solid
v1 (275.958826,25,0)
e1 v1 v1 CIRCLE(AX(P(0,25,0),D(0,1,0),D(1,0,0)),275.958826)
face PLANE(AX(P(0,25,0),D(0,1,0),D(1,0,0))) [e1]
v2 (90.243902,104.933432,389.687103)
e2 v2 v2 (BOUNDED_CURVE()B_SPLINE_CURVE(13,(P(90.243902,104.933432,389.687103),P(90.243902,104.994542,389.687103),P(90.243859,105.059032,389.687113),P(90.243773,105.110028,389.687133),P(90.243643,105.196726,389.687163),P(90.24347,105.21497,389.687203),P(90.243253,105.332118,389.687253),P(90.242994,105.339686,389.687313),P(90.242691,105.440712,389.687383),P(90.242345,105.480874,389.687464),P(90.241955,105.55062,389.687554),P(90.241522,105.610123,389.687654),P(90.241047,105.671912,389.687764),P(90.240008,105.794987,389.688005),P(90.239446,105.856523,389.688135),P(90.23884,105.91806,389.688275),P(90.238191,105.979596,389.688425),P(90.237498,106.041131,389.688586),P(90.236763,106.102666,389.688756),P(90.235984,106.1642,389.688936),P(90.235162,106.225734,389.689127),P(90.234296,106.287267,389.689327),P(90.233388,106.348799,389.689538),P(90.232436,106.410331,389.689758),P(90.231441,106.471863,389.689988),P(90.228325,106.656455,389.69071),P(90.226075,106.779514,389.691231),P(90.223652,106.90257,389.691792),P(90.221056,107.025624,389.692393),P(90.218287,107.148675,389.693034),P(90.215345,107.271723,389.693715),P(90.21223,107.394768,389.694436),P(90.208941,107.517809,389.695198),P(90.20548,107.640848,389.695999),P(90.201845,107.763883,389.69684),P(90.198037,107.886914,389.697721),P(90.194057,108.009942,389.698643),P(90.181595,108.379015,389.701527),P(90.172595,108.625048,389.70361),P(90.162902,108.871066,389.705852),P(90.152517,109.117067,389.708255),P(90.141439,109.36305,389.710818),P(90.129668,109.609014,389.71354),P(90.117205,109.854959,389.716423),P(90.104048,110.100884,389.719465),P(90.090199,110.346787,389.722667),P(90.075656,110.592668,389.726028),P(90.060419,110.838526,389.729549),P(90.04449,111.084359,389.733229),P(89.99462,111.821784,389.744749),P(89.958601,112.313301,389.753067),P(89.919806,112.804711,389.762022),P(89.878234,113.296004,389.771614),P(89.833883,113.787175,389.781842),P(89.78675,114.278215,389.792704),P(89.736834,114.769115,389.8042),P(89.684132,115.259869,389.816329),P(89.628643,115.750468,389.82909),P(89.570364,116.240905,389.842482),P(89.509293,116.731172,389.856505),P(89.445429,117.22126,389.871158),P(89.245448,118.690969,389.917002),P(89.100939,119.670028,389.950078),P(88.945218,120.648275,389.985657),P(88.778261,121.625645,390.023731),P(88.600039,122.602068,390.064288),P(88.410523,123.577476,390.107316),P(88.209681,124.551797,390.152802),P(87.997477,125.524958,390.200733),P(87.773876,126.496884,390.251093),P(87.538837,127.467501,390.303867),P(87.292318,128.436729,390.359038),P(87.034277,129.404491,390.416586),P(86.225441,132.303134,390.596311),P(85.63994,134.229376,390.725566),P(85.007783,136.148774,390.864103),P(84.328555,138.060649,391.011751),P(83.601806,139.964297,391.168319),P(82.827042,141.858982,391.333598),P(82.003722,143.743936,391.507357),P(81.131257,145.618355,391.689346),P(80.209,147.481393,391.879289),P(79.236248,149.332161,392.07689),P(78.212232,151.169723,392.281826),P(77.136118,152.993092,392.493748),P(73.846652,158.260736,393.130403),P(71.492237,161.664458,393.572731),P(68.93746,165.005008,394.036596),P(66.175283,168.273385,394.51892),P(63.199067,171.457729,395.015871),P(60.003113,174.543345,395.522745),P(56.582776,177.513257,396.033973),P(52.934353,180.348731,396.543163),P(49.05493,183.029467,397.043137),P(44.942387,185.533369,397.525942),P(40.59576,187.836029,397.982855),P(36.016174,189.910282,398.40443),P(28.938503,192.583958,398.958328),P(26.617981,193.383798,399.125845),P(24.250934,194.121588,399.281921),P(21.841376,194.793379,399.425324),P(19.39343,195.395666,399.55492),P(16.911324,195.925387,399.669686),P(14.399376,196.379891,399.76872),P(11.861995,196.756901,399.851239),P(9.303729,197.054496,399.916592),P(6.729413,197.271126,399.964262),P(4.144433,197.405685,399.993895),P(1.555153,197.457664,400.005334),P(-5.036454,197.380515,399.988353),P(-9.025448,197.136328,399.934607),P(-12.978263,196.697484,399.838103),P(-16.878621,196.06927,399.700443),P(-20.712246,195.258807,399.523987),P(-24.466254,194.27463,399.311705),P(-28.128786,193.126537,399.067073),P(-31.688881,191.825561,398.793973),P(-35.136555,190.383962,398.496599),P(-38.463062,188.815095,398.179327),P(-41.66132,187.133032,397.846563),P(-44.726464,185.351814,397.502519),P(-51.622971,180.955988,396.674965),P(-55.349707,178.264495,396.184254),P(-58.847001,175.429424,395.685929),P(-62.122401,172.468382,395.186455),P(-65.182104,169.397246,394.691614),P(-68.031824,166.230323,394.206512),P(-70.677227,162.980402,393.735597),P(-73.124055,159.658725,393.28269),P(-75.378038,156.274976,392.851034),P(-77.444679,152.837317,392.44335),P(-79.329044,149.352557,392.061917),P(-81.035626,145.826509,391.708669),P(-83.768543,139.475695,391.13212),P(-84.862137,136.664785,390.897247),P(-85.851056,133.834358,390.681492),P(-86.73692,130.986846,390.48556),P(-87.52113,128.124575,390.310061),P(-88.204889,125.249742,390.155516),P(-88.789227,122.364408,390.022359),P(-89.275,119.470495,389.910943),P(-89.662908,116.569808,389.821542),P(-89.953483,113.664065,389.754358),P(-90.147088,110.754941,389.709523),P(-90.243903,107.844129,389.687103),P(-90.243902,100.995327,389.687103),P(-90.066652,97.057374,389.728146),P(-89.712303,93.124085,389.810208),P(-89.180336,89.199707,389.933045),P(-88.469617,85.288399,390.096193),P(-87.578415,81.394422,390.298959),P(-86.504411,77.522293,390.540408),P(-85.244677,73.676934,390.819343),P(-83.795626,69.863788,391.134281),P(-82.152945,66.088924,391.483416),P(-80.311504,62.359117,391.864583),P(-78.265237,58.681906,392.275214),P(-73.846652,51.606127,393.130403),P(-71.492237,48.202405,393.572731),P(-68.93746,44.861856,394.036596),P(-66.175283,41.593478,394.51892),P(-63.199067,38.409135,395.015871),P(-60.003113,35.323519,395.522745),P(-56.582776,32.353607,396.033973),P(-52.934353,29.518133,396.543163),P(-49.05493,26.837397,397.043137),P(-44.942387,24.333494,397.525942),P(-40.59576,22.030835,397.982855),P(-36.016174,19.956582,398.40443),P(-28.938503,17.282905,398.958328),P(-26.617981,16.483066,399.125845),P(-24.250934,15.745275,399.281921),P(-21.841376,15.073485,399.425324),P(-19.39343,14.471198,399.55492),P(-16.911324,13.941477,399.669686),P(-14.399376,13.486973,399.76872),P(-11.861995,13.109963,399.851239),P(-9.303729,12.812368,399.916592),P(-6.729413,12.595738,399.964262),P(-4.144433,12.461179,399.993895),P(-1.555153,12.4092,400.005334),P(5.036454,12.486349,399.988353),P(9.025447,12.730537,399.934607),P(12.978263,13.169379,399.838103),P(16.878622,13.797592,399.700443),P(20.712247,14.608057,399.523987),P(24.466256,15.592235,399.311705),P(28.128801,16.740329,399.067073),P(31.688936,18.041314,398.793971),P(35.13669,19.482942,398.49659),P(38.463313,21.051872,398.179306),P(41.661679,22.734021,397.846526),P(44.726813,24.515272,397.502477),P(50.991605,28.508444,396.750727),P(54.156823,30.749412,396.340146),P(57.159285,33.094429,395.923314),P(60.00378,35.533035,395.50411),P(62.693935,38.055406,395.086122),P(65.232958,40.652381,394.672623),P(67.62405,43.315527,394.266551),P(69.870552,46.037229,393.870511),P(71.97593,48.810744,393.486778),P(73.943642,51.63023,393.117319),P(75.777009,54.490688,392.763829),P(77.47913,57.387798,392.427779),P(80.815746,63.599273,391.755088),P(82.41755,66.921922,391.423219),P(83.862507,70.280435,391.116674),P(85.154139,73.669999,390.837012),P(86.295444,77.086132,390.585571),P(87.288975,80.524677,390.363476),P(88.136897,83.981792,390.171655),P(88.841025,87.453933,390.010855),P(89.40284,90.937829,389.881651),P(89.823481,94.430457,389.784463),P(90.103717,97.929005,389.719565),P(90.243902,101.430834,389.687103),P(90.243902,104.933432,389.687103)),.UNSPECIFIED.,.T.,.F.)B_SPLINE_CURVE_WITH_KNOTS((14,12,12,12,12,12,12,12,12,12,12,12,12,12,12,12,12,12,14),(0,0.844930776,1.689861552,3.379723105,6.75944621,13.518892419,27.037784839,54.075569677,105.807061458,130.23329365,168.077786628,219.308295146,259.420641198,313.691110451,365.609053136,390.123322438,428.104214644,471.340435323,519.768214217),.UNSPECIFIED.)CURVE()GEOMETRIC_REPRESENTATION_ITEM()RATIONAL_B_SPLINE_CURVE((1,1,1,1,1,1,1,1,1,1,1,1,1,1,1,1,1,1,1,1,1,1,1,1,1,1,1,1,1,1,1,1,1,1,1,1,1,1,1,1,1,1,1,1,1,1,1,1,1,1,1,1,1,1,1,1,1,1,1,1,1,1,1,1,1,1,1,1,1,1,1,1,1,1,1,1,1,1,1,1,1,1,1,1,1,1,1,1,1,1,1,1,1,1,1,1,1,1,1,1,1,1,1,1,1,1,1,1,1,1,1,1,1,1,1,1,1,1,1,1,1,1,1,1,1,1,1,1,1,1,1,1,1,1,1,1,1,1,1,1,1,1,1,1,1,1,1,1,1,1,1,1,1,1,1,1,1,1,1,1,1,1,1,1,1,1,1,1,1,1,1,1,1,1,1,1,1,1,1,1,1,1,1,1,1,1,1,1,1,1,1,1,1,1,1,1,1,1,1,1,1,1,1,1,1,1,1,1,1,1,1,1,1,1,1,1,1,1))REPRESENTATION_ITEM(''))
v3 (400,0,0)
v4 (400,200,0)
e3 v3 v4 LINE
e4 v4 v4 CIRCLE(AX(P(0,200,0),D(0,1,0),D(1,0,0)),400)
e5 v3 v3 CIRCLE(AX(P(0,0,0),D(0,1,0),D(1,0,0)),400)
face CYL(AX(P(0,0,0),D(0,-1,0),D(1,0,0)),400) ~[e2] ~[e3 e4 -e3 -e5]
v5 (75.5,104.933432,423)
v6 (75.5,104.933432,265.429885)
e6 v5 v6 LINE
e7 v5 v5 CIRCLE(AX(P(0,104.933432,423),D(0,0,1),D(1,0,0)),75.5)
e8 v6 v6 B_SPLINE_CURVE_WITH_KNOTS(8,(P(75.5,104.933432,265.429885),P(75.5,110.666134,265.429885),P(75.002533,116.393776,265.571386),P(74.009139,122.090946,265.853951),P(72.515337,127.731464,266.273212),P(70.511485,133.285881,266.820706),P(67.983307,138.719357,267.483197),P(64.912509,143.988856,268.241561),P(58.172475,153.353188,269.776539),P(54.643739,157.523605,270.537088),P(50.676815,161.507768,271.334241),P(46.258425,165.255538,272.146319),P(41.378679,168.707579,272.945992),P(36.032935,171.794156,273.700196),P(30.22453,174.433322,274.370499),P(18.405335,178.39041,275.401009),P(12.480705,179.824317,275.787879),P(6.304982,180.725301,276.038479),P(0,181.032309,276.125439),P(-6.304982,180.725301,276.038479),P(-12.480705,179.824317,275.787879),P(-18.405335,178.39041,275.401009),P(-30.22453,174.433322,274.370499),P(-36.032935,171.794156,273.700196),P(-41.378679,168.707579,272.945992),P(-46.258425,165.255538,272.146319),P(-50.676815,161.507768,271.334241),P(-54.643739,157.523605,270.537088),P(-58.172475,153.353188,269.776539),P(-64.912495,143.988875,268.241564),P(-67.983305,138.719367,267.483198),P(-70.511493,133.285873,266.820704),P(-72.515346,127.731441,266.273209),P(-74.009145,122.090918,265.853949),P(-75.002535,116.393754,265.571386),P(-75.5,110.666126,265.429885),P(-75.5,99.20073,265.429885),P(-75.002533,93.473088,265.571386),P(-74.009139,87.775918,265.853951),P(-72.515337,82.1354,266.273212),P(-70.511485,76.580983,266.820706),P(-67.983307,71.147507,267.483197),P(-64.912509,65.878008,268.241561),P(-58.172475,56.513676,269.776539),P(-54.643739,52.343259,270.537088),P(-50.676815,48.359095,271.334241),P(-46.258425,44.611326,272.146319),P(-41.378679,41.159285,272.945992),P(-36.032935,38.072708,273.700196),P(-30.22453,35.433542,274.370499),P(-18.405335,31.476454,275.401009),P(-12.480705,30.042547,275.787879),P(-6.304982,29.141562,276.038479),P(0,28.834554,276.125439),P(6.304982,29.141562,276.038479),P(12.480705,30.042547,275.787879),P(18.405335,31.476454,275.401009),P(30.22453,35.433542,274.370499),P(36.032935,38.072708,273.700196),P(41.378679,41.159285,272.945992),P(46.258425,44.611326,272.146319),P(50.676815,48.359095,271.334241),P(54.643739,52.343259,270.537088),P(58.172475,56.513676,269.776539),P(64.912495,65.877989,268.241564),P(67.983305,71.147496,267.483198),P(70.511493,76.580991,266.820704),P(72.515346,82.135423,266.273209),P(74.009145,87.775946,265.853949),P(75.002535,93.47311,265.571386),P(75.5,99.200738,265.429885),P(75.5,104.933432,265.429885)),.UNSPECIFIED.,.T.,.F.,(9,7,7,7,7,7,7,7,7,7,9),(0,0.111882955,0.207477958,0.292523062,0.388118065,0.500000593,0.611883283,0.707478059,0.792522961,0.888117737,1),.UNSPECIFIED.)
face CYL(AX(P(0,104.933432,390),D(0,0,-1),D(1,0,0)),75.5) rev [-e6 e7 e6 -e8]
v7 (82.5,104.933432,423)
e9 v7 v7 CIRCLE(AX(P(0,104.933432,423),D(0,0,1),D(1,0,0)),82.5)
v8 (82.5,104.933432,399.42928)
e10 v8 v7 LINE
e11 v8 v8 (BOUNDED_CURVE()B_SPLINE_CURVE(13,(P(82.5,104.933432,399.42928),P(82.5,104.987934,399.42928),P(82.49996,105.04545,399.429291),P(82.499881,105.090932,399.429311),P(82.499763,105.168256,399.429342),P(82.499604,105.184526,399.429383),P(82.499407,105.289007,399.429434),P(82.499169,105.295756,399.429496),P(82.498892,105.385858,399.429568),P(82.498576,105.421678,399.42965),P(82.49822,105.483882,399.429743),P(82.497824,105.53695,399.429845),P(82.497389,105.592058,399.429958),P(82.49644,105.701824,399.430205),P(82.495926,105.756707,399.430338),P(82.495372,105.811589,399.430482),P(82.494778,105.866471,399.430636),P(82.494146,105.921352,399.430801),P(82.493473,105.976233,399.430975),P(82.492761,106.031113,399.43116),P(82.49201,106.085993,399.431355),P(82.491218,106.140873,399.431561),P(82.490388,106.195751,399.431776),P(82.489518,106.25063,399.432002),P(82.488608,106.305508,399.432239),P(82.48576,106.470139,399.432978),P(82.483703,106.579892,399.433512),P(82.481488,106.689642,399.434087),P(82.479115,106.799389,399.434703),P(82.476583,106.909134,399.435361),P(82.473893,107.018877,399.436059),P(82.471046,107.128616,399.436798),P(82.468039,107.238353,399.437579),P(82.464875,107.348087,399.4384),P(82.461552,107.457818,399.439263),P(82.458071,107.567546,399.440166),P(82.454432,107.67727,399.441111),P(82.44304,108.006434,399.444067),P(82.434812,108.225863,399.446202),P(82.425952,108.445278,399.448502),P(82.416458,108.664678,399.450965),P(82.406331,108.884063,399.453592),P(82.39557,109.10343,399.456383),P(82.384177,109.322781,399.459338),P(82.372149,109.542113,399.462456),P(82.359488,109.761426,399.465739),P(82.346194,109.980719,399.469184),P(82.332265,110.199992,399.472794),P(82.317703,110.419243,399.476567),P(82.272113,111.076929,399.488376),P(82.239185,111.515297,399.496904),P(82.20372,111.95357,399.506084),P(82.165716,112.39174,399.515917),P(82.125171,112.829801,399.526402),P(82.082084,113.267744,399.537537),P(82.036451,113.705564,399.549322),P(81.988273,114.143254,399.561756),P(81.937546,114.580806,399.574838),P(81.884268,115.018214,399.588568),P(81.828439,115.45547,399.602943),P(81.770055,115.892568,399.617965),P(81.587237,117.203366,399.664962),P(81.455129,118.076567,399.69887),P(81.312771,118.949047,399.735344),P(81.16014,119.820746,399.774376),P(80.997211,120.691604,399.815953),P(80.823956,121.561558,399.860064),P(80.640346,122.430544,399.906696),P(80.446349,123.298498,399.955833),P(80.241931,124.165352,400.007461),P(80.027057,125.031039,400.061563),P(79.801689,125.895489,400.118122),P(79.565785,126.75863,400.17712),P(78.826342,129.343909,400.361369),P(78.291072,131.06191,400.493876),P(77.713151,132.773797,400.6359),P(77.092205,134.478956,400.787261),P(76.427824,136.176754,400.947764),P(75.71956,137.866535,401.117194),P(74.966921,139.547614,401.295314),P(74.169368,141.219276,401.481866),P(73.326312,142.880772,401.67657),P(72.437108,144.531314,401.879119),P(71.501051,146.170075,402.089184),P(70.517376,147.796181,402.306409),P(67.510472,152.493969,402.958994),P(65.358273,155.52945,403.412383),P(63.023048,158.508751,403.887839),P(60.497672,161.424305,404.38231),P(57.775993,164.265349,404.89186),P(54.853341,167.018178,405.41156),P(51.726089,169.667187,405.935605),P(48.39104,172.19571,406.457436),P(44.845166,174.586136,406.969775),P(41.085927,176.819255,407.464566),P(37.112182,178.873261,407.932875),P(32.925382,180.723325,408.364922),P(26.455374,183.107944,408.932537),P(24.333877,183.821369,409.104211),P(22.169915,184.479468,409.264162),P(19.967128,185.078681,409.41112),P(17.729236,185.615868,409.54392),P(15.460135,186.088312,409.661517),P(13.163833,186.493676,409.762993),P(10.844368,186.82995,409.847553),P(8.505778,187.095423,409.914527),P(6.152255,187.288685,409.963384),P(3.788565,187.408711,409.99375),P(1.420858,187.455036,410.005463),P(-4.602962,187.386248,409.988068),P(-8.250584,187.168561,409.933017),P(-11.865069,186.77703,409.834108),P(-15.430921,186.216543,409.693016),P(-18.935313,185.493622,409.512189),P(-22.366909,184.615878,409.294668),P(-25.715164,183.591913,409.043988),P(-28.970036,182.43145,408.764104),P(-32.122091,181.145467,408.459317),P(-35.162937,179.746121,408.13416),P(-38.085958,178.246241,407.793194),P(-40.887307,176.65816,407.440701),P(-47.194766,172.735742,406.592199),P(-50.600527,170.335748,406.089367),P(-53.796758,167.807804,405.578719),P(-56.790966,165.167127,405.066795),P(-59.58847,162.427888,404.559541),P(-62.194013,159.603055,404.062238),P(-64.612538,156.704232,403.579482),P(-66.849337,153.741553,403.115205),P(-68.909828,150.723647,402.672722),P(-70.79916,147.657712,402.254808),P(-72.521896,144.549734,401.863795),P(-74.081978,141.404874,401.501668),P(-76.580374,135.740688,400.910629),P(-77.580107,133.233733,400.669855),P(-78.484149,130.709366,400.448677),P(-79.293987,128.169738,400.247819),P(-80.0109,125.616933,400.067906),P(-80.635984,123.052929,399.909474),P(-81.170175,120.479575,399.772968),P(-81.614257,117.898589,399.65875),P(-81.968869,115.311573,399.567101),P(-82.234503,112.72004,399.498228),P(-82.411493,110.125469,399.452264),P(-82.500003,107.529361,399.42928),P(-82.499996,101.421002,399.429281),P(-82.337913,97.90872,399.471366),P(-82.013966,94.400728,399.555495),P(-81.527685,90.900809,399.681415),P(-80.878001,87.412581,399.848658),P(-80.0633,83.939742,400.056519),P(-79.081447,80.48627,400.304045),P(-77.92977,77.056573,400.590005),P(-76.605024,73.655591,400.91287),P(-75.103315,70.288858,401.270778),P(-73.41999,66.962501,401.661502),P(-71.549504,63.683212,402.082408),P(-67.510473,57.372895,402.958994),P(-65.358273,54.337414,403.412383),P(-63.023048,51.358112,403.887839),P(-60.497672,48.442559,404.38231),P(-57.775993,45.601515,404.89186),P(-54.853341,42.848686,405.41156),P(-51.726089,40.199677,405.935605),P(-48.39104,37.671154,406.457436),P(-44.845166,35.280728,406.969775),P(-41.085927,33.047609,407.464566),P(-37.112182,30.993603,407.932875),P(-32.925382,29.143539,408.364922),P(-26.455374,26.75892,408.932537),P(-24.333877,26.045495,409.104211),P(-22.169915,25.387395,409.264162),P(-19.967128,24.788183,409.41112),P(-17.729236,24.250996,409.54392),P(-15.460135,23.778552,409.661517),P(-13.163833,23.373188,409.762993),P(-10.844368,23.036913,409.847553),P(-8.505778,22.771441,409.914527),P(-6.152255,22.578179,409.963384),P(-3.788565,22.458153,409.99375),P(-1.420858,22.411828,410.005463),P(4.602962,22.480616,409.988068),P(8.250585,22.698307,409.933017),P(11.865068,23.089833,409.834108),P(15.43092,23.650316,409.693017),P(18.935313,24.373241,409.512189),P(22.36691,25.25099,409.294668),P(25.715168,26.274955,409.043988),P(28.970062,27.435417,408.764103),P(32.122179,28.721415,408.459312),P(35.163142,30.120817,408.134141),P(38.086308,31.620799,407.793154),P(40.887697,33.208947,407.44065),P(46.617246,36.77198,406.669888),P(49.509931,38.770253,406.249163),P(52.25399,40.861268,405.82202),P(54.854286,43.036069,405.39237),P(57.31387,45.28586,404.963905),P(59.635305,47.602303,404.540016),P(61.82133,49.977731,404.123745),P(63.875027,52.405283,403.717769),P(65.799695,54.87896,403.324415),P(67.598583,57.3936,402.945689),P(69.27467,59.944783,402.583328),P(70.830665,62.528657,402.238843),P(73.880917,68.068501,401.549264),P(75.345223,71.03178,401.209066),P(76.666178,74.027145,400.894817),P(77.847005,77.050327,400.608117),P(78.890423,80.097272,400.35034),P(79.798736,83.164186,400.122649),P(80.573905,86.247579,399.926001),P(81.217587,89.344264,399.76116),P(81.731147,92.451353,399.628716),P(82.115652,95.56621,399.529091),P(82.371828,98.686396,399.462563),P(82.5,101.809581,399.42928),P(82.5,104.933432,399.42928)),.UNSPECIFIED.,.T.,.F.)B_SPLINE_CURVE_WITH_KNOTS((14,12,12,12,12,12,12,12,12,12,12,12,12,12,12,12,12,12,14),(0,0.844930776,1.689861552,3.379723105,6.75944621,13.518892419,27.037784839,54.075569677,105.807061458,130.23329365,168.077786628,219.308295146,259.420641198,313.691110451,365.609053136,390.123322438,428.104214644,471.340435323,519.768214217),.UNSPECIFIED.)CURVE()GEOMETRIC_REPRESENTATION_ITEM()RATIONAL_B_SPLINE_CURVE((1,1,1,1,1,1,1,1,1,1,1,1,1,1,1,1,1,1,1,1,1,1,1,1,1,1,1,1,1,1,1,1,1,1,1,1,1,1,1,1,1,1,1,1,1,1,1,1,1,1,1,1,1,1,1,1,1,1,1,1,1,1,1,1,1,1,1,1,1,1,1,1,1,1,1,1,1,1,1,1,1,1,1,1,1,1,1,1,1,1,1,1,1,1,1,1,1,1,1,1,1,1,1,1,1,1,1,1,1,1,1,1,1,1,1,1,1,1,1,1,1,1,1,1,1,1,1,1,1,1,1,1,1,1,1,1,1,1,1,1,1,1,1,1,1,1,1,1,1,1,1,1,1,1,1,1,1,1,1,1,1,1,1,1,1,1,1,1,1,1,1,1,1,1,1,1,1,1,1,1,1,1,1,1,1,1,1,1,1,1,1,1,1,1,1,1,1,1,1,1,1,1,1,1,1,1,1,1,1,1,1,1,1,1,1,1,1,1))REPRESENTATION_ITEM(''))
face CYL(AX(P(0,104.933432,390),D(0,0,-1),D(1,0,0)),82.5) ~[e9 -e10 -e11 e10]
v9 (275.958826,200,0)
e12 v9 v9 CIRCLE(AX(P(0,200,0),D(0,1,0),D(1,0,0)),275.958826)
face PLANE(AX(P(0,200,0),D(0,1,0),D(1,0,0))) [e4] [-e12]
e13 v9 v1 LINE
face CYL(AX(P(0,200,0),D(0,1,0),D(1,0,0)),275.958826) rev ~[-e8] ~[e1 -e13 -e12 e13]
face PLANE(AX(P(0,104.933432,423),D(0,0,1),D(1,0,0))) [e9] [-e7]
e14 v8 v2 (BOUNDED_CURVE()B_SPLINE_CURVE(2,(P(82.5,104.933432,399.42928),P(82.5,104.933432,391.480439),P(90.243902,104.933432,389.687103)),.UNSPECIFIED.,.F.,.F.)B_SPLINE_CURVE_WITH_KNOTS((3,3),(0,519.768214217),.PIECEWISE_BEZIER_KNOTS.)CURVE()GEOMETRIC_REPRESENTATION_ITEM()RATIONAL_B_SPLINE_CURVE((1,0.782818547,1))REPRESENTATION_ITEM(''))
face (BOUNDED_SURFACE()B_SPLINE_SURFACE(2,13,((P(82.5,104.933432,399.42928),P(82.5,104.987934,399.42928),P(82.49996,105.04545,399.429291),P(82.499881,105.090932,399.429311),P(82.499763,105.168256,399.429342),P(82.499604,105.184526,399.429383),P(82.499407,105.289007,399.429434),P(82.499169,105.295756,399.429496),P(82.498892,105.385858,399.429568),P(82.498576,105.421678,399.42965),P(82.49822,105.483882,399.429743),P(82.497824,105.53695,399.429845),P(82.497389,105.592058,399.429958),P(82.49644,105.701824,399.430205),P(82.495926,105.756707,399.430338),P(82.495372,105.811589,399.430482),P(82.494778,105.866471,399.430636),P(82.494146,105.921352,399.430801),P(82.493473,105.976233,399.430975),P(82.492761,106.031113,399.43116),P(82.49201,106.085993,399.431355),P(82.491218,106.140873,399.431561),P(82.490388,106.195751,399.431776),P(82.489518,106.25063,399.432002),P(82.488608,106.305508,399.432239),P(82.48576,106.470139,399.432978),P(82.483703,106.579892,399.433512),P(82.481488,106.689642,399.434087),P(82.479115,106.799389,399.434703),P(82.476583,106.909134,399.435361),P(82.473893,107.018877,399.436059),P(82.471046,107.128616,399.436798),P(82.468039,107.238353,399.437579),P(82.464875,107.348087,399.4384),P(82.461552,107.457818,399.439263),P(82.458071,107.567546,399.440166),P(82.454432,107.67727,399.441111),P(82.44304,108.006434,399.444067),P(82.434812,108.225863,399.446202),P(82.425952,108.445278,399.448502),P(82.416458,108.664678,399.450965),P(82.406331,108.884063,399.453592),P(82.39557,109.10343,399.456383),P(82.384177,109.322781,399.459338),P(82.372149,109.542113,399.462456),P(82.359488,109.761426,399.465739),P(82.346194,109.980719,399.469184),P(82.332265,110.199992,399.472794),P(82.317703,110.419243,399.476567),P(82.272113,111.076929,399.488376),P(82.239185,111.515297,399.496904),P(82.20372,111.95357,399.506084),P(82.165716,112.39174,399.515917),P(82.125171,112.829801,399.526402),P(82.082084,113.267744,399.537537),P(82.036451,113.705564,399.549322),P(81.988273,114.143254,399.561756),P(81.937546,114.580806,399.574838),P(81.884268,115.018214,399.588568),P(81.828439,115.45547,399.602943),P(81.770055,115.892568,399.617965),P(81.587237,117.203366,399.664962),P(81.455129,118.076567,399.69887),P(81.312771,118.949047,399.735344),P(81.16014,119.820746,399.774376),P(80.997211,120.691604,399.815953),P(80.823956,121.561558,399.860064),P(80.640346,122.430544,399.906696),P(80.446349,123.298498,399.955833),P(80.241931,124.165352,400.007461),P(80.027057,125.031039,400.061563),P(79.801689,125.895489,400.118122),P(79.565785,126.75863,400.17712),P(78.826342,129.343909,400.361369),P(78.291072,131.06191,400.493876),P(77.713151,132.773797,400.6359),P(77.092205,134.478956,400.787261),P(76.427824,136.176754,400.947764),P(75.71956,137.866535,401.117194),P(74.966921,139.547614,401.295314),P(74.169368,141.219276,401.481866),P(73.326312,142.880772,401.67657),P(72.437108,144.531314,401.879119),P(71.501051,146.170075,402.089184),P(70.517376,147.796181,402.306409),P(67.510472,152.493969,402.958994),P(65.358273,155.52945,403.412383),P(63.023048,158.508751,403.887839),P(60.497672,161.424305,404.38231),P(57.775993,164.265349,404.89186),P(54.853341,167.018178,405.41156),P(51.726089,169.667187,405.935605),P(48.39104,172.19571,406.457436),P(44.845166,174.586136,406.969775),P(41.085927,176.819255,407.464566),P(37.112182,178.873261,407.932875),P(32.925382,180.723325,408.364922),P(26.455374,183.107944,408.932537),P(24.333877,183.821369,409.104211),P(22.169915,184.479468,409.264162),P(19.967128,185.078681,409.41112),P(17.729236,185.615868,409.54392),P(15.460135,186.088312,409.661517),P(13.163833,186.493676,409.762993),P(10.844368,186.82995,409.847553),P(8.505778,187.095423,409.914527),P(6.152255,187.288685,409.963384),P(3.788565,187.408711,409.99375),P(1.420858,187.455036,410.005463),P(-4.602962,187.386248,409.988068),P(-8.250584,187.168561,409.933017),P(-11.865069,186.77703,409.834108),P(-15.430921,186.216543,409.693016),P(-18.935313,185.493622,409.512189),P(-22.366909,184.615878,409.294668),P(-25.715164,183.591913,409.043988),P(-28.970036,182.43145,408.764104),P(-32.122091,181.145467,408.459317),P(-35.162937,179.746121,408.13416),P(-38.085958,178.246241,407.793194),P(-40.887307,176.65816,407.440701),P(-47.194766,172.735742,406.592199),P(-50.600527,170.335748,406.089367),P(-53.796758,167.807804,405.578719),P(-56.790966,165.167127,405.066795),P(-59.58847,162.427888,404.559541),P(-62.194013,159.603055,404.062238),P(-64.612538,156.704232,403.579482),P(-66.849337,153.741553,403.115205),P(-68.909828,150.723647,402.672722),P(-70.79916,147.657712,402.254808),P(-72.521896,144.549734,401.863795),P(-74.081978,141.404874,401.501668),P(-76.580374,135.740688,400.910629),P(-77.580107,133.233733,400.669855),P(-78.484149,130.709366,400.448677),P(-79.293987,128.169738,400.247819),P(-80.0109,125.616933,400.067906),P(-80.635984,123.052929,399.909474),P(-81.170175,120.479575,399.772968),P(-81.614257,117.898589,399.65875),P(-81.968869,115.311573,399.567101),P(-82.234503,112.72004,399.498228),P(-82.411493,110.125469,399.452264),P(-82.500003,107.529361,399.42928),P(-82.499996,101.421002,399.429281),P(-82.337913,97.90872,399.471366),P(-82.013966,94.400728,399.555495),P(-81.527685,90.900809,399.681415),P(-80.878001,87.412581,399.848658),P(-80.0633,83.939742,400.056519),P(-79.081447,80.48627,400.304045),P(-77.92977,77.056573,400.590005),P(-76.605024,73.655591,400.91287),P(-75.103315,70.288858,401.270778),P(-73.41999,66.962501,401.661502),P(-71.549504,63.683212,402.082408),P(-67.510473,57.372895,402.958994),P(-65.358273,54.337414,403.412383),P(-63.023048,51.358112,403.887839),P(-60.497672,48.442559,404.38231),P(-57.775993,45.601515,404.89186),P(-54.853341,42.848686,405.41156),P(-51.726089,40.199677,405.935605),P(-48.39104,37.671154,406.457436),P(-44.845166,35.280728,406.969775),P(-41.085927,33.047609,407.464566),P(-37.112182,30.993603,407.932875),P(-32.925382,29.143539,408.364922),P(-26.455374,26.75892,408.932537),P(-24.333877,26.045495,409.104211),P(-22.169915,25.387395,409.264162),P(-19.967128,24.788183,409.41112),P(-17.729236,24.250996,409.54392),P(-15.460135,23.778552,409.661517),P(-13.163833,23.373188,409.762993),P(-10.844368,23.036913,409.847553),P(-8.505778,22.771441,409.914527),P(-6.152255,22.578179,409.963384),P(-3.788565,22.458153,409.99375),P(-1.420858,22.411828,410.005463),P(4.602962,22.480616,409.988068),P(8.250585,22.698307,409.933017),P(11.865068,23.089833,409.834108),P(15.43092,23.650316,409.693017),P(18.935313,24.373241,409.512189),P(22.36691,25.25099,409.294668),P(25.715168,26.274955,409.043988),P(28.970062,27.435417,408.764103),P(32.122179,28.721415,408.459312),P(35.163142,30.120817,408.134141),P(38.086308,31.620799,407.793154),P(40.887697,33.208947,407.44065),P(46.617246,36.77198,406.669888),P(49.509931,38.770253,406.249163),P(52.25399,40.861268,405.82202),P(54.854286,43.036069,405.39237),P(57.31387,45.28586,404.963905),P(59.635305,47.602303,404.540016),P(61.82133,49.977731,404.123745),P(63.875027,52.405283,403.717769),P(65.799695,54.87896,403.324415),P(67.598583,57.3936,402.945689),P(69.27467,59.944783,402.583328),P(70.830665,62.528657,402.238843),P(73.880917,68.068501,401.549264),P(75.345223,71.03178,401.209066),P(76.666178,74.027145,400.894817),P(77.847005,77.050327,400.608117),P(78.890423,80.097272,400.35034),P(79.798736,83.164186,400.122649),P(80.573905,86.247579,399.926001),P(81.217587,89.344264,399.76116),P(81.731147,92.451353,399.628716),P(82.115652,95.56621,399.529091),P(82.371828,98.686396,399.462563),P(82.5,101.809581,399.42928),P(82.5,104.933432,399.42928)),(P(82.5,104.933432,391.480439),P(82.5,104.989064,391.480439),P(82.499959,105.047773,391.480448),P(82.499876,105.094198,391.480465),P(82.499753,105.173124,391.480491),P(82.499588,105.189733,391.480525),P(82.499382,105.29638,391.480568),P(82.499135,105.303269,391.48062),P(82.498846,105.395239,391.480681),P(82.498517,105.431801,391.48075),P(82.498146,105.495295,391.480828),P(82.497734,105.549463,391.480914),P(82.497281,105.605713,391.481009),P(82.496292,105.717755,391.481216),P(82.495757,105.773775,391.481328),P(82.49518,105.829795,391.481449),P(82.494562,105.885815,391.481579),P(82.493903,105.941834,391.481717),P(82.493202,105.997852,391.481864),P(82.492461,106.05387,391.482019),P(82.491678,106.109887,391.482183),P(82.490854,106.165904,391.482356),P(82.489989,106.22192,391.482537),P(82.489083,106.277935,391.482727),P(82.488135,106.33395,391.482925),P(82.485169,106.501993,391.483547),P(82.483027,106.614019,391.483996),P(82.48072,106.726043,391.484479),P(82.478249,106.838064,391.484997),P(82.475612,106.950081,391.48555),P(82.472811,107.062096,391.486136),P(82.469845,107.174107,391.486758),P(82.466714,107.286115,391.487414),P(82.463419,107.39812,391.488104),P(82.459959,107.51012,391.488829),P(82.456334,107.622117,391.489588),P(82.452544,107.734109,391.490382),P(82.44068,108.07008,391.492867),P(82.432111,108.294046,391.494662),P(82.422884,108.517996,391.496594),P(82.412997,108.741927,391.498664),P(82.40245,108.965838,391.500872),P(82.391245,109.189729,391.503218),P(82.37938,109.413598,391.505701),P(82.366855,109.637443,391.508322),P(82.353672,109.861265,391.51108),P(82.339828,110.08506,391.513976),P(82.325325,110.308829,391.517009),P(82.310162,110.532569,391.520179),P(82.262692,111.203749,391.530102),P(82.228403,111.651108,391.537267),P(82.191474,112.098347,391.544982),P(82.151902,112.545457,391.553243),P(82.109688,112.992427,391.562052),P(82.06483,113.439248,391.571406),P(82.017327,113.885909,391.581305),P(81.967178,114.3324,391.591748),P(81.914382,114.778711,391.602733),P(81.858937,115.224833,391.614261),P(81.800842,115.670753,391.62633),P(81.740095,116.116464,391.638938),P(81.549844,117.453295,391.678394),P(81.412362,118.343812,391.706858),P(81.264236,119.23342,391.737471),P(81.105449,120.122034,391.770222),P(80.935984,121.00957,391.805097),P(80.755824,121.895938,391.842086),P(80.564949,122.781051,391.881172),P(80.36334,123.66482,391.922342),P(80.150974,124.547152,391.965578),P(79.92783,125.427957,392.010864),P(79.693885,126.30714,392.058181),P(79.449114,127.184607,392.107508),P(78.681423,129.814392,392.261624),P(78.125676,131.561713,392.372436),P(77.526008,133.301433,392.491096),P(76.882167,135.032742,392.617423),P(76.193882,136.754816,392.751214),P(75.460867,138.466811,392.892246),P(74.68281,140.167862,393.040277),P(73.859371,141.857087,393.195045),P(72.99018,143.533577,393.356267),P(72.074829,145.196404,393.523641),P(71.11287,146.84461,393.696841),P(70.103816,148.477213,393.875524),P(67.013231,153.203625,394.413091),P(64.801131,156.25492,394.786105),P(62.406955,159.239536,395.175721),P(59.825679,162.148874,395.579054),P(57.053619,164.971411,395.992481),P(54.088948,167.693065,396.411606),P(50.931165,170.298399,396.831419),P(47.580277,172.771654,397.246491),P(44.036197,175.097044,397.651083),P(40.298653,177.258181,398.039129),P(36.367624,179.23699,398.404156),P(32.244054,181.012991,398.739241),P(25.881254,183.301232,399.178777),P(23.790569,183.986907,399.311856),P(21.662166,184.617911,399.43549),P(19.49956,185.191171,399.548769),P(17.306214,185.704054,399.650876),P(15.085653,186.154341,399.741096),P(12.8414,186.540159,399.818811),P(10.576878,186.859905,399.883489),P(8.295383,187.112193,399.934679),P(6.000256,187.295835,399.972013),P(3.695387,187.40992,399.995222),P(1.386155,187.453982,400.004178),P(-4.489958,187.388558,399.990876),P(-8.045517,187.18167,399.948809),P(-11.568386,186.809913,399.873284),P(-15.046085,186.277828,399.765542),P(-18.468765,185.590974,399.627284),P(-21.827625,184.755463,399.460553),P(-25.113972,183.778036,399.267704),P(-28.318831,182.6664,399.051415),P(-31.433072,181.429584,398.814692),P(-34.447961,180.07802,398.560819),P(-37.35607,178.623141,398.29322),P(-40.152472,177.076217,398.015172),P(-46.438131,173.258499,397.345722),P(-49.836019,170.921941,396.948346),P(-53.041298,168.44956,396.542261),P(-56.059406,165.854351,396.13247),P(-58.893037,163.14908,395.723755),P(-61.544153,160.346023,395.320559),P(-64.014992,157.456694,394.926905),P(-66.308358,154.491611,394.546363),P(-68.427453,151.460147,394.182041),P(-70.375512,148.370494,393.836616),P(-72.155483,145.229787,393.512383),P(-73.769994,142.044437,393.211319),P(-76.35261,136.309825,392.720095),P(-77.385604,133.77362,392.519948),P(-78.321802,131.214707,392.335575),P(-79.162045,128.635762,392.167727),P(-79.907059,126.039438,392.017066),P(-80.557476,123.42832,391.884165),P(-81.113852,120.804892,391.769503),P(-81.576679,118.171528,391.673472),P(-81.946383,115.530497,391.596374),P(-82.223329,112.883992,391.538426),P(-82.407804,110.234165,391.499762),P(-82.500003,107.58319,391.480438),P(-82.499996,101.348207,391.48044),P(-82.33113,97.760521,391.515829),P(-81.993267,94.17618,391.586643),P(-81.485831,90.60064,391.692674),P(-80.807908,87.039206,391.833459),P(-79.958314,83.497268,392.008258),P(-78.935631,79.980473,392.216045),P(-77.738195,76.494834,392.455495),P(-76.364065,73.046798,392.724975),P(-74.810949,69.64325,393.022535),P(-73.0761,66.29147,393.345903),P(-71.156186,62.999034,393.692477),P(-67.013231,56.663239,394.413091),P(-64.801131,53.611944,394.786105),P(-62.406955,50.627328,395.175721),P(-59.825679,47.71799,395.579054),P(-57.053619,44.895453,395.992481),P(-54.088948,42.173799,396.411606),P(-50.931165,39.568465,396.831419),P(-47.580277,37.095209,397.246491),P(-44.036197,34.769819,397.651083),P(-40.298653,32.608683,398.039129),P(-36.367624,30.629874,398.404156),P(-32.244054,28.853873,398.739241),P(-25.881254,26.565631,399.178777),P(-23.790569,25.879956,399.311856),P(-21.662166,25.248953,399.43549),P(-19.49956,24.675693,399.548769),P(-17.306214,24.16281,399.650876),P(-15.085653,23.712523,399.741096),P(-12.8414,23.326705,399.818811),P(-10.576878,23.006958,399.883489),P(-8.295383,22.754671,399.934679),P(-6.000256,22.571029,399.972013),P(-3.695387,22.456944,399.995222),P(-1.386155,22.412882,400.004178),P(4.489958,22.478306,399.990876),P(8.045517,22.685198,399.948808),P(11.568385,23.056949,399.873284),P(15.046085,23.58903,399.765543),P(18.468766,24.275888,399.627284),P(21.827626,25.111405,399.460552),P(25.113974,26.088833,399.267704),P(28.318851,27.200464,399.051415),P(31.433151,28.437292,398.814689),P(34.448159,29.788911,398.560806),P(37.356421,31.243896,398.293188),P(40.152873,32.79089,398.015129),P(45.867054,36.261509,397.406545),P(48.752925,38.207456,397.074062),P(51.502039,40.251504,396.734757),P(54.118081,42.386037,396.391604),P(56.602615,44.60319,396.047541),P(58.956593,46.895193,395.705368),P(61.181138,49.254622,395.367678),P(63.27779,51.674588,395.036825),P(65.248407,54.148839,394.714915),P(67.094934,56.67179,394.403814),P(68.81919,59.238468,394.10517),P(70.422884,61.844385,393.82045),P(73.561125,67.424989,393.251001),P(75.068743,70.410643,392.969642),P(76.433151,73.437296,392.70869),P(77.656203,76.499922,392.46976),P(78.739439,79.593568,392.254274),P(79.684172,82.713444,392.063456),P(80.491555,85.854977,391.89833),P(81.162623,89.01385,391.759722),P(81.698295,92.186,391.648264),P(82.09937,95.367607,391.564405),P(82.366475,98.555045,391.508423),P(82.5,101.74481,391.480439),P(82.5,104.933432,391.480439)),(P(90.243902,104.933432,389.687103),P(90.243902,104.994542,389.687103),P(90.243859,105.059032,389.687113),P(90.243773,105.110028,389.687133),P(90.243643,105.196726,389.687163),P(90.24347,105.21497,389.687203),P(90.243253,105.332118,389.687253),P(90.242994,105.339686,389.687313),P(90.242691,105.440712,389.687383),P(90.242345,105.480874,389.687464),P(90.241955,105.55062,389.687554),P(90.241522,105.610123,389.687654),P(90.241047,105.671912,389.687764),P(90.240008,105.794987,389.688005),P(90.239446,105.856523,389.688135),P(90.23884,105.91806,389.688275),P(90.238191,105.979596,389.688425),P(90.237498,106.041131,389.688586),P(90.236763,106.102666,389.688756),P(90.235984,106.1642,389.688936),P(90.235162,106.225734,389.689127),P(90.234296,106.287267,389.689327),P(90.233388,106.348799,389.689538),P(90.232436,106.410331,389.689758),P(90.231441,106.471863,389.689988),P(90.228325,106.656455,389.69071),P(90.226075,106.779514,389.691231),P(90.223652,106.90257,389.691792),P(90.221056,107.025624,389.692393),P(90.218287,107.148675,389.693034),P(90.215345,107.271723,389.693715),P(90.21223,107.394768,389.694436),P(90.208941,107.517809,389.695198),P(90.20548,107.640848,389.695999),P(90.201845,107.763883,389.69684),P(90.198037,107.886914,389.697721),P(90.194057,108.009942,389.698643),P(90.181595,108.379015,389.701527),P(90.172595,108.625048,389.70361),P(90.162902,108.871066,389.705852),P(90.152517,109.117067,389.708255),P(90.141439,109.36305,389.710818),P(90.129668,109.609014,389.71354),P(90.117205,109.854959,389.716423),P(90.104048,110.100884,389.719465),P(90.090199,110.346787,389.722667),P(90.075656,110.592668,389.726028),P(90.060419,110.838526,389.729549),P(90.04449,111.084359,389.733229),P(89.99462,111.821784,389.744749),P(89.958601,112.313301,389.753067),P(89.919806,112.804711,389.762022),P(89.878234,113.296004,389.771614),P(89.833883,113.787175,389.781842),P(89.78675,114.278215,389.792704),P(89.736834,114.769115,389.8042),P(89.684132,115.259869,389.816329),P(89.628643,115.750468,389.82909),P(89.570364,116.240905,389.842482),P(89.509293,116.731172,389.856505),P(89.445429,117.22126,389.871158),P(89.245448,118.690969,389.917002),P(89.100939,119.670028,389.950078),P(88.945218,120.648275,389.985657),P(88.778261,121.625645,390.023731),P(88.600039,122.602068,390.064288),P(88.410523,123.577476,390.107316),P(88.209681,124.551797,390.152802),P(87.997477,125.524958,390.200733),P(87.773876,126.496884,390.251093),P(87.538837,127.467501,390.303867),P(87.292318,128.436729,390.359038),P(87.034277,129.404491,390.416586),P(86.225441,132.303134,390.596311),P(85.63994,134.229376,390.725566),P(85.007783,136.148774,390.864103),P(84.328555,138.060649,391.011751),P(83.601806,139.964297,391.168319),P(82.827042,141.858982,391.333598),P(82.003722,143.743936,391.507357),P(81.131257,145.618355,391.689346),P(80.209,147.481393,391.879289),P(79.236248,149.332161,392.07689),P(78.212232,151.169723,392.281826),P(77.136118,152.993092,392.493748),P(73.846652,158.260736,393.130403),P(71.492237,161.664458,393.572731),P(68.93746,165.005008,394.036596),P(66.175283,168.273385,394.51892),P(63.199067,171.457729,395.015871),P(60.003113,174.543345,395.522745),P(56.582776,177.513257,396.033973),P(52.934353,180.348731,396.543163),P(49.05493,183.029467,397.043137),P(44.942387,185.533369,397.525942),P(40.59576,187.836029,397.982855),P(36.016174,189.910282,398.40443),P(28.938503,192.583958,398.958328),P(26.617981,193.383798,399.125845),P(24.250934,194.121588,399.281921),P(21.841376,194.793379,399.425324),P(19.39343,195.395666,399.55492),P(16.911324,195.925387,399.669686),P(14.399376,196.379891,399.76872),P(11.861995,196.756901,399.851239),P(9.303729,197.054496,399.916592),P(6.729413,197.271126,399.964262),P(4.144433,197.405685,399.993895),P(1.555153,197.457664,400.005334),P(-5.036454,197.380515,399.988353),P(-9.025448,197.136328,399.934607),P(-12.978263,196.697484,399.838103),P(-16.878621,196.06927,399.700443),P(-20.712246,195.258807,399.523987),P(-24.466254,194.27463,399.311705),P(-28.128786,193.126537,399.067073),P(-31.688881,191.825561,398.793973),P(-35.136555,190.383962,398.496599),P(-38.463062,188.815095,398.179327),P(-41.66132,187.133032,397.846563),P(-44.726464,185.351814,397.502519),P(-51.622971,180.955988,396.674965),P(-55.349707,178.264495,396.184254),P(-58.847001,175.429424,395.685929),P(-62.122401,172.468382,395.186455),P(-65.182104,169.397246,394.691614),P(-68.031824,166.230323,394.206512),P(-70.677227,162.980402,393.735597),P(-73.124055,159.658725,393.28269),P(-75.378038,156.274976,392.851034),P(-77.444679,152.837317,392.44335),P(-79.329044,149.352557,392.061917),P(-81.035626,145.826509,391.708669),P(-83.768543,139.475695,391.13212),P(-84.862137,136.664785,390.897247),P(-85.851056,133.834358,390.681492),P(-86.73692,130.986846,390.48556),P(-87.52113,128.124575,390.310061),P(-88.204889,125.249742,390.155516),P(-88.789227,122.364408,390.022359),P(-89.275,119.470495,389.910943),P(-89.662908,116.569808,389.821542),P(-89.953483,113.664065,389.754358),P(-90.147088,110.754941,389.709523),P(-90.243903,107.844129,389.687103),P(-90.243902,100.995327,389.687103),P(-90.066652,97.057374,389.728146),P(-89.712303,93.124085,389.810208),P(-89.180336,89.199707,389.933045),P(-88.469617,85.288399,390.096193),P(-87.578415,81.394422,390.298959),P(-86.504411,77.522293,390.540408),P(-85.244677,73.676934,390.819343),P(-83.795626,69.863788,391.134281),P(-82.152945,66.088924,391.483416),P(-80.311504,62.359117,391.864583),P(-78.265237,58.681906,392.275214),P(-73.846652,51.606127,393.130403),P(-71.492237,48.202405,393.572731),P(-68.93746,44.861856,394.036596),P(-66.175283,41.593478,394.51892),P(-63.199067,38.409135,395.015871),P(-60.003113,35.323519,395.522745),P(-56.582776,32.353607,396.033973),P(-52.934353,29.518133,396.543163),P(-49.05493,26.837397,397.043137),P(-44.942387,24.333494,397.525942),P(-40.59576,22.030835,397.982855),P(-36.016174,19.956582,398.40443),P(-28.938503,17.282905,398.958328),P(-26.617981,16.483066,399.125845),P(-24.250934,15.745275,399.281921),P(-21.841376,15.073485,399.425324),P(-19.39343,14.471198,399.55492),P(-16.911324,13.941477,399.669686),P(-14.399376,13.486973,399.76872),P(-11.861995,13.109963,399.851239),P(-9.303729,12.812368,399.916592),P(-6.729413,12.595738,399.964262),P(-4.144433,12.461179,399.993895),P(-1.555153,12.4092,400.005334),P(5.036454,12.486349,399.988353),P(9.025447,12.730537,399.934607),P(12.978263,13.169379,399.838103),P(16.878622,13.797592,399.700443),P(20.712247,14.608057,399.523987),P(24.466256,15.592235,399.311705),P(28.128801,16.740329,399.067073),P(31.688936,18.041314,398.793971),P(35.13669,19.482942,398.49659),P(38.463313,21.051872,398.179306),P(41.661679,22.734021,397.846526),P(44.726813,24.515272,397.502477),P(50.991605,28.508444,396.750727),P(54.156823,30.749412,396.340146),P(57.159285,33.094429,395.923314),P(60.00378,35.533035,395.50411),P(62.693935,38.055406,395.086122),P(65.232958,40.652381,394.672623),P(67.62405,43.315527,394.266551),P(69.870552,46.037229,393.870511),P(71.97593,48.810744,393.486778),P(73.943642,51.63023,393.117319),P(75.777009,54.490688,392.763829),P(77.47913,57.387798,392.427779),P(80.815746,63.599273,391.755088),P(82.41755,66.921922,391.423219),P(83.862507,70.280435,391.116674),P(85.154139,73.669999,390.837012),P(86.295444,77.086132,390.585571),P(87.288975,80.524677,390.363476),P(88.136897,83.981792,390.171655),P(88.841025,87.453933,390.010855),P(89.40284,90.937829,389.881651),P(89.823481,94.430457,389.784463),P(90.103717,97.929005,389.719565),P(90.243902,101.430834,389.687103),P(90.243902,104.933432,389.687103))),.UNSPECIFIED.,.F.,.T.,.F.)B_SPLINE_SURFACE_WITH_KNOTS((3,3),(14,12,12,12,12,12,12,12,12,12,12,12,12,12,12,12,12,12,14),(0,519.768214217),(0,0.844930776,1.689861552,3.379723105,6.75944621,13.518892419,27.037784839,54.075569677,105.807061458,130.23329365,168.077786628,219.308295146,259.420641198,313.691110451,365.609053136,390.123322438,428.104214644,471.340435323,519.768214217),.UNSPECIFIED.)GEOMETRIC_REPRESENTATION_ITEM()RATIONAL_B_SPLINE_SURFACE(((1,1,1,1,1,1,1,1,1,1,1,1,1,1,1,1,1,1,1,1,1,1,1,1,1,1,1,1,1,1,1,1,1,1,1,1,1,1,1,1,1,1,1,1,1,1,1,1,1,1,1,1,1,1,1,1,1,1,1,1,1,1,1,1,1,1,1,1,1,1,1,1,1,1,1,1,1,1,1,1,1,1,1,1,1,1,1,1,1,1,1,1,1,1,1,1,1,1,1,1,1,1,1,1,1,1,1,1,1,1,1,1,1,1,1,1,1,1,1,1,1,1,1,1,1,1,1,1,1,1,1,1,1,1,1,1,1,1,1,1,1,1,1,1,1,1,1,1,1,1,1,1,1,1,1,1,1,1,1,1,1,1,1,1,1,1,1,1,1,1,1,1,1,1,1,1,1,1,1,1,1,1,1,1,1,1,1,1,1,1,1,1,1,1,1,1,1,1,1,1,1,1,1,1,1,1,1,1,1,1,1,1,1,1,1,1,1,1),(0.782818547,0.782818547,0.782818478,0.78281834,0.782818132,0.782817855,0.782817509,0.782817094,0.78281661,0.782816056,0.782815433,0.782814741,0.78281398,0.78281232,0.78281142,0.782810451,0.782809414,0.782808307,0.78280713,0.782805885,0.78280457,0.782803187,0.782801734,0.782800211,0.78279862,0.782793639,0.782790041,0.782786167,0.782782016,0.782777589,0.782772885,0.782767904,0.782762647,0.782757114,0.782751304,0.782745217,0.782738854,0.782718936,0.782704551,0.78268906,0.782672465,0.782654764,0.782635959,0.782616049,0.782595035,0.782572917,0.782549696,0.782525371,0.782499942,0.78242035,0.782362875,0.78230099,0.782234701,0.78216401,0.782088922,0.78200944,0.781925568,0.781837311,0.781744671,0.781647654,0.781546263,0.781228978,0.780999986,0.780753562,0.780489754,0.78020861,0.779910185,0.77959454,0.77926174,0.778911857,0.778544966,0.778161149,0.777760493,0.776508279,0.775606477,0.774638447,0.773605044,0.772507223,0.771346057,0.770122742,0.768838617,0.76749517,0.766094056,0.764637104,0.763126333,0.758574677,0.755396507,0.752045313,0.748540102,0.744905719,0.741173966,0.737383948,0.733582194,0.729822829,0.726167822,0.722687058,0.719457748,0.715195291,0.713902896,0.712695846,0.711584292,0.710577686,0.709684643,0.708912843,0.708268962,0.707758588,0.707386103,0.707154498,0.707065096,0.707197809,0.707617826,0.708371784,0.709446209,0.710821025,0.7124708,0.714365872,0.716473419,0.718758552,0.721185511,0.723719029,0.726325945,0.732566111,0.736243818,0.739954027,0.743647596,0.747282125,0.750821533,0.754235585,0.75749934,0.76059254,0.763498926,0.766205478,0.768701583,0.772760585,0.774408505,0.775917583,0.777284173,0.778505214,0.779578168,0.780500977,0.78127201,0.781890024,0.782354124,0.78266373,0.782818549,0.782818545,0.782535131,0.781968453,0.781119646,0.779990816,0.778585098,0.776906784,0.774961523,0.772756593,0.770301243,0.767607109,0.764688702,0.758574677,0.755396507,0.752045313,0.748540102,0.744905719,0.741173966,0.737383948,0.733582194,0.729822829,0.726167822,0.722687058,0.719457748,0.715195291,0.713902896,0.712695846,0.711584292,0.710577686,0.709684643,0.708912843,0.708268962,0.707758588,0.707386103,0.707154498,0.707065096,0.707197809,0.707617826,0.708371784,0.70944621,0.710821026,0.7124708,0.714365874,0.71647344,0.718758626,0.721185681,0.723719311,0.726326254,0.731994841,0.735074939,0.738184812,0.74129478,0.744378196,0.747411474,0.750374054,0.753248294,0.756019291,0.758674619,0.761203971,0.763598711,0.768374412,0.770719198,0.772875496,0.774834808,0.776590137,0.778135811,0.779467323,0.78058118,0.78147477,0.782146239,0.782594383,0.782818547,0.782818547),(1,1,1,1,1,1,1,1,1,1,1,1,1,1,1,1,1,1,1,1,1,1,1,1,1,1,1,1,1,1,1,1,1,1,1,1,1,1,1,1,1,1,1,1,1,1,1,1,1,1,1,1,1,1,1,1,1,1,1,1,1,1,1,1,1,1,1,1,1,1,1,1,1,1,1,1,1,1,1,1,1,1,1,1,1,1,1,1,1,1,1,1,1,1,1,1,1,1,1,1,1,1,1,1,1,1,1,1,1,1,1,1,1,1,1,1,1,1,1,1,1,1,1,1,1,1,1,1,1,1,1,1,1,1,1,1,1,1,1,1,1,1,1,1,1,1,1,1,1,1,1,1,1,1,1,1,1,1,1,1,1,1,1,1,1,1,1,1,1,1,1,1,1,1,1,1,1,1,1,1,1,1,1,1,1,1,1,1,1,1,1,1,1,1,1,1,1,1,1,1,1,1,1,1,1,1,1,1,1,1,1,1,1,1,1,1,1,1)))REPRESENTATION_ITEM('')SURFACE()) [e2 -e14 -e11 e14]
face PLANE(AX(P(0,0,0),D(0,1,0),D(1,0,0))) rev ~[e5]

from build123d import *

# Parameters (mm, degrees)
SKETCH1_R           = 400
BOSS_EXTRUDE1_DEPTH = 200
BOSS_EXTRUDE2_START = -10
SKETCH2_R           = 82.5
SKETCH2_R_2         = 75.5
BOSS_EXTRUDE2_DEPTH = 33
CUT_EXTRUDE1_START  = -432
SKETCH2_2_R         = 75.5
CUT_EXTRUDE1_DEPTH  = 432
SKETCH3_R           = 275.958825931
CUT_EXTRUDE3_DEPTH  = 175
FILLET2_R           = 10


with BuildPart() as part:
    # Sketch1 → Boss-Extrude1 (new body)
    with BuildSketch(Plane(origin=(0, 0, 0), x_dir=(1, 0, 0), z_dir=(0, 1, 0))):
        Circle(SKETCH1_R)
    extrude(amount=BOSS_EXTRUDE1_DEPTH)

    # Sketch2 → Boss-Extrude2 (add)
    with BuildSketch(Plane.XY.offset(400).offset(BOSS_EXTRUDE2_START)):
        with Locations((0, 104.933431854)):
            Circle(SKETCH2_R)
        with Locations((0, 104.933431854)):
            Circle(SKETCH2_R_2, mode=Mode.SUBTRACT)
    extrude(amount=BOSS_EXTRUDE2_DEPTH)

    # Sketch2<2> → Cut-Extrude1 (cut)
    with BuildSketch(Plane.XY.offset(400).offset(CUT_EXTRUDE1_START)):
        with Locations((0, 104.933431854)):
            Circle(SKETCH2_2_R)
    extrude(amount=CUT_EXTRUDE1_DEPTH, mode=Mode.SUBTRACT)

    # Sketch3 → Cut-Extrude3 (cut)
    with BuildSketch(Plane(origin=(0, 200, 0), x_dir=(1, 0, 0), z_dir=(0, 1, 0))):
        Circle(SKETCH3_R)
    extrude(amount=-CUT_EXTRUDE3_DEPTH, mode=Mode.SUBTRACT)

    # Fillet2
    fillet2_edges = [part.edges().sort_by_distance(p)[0] for p in [
        (-82.5, 104.933431854, 391.399731732),
    ]]
    fillet(fillet2_edges, radius=FILLET2_R)


solid = part.part
